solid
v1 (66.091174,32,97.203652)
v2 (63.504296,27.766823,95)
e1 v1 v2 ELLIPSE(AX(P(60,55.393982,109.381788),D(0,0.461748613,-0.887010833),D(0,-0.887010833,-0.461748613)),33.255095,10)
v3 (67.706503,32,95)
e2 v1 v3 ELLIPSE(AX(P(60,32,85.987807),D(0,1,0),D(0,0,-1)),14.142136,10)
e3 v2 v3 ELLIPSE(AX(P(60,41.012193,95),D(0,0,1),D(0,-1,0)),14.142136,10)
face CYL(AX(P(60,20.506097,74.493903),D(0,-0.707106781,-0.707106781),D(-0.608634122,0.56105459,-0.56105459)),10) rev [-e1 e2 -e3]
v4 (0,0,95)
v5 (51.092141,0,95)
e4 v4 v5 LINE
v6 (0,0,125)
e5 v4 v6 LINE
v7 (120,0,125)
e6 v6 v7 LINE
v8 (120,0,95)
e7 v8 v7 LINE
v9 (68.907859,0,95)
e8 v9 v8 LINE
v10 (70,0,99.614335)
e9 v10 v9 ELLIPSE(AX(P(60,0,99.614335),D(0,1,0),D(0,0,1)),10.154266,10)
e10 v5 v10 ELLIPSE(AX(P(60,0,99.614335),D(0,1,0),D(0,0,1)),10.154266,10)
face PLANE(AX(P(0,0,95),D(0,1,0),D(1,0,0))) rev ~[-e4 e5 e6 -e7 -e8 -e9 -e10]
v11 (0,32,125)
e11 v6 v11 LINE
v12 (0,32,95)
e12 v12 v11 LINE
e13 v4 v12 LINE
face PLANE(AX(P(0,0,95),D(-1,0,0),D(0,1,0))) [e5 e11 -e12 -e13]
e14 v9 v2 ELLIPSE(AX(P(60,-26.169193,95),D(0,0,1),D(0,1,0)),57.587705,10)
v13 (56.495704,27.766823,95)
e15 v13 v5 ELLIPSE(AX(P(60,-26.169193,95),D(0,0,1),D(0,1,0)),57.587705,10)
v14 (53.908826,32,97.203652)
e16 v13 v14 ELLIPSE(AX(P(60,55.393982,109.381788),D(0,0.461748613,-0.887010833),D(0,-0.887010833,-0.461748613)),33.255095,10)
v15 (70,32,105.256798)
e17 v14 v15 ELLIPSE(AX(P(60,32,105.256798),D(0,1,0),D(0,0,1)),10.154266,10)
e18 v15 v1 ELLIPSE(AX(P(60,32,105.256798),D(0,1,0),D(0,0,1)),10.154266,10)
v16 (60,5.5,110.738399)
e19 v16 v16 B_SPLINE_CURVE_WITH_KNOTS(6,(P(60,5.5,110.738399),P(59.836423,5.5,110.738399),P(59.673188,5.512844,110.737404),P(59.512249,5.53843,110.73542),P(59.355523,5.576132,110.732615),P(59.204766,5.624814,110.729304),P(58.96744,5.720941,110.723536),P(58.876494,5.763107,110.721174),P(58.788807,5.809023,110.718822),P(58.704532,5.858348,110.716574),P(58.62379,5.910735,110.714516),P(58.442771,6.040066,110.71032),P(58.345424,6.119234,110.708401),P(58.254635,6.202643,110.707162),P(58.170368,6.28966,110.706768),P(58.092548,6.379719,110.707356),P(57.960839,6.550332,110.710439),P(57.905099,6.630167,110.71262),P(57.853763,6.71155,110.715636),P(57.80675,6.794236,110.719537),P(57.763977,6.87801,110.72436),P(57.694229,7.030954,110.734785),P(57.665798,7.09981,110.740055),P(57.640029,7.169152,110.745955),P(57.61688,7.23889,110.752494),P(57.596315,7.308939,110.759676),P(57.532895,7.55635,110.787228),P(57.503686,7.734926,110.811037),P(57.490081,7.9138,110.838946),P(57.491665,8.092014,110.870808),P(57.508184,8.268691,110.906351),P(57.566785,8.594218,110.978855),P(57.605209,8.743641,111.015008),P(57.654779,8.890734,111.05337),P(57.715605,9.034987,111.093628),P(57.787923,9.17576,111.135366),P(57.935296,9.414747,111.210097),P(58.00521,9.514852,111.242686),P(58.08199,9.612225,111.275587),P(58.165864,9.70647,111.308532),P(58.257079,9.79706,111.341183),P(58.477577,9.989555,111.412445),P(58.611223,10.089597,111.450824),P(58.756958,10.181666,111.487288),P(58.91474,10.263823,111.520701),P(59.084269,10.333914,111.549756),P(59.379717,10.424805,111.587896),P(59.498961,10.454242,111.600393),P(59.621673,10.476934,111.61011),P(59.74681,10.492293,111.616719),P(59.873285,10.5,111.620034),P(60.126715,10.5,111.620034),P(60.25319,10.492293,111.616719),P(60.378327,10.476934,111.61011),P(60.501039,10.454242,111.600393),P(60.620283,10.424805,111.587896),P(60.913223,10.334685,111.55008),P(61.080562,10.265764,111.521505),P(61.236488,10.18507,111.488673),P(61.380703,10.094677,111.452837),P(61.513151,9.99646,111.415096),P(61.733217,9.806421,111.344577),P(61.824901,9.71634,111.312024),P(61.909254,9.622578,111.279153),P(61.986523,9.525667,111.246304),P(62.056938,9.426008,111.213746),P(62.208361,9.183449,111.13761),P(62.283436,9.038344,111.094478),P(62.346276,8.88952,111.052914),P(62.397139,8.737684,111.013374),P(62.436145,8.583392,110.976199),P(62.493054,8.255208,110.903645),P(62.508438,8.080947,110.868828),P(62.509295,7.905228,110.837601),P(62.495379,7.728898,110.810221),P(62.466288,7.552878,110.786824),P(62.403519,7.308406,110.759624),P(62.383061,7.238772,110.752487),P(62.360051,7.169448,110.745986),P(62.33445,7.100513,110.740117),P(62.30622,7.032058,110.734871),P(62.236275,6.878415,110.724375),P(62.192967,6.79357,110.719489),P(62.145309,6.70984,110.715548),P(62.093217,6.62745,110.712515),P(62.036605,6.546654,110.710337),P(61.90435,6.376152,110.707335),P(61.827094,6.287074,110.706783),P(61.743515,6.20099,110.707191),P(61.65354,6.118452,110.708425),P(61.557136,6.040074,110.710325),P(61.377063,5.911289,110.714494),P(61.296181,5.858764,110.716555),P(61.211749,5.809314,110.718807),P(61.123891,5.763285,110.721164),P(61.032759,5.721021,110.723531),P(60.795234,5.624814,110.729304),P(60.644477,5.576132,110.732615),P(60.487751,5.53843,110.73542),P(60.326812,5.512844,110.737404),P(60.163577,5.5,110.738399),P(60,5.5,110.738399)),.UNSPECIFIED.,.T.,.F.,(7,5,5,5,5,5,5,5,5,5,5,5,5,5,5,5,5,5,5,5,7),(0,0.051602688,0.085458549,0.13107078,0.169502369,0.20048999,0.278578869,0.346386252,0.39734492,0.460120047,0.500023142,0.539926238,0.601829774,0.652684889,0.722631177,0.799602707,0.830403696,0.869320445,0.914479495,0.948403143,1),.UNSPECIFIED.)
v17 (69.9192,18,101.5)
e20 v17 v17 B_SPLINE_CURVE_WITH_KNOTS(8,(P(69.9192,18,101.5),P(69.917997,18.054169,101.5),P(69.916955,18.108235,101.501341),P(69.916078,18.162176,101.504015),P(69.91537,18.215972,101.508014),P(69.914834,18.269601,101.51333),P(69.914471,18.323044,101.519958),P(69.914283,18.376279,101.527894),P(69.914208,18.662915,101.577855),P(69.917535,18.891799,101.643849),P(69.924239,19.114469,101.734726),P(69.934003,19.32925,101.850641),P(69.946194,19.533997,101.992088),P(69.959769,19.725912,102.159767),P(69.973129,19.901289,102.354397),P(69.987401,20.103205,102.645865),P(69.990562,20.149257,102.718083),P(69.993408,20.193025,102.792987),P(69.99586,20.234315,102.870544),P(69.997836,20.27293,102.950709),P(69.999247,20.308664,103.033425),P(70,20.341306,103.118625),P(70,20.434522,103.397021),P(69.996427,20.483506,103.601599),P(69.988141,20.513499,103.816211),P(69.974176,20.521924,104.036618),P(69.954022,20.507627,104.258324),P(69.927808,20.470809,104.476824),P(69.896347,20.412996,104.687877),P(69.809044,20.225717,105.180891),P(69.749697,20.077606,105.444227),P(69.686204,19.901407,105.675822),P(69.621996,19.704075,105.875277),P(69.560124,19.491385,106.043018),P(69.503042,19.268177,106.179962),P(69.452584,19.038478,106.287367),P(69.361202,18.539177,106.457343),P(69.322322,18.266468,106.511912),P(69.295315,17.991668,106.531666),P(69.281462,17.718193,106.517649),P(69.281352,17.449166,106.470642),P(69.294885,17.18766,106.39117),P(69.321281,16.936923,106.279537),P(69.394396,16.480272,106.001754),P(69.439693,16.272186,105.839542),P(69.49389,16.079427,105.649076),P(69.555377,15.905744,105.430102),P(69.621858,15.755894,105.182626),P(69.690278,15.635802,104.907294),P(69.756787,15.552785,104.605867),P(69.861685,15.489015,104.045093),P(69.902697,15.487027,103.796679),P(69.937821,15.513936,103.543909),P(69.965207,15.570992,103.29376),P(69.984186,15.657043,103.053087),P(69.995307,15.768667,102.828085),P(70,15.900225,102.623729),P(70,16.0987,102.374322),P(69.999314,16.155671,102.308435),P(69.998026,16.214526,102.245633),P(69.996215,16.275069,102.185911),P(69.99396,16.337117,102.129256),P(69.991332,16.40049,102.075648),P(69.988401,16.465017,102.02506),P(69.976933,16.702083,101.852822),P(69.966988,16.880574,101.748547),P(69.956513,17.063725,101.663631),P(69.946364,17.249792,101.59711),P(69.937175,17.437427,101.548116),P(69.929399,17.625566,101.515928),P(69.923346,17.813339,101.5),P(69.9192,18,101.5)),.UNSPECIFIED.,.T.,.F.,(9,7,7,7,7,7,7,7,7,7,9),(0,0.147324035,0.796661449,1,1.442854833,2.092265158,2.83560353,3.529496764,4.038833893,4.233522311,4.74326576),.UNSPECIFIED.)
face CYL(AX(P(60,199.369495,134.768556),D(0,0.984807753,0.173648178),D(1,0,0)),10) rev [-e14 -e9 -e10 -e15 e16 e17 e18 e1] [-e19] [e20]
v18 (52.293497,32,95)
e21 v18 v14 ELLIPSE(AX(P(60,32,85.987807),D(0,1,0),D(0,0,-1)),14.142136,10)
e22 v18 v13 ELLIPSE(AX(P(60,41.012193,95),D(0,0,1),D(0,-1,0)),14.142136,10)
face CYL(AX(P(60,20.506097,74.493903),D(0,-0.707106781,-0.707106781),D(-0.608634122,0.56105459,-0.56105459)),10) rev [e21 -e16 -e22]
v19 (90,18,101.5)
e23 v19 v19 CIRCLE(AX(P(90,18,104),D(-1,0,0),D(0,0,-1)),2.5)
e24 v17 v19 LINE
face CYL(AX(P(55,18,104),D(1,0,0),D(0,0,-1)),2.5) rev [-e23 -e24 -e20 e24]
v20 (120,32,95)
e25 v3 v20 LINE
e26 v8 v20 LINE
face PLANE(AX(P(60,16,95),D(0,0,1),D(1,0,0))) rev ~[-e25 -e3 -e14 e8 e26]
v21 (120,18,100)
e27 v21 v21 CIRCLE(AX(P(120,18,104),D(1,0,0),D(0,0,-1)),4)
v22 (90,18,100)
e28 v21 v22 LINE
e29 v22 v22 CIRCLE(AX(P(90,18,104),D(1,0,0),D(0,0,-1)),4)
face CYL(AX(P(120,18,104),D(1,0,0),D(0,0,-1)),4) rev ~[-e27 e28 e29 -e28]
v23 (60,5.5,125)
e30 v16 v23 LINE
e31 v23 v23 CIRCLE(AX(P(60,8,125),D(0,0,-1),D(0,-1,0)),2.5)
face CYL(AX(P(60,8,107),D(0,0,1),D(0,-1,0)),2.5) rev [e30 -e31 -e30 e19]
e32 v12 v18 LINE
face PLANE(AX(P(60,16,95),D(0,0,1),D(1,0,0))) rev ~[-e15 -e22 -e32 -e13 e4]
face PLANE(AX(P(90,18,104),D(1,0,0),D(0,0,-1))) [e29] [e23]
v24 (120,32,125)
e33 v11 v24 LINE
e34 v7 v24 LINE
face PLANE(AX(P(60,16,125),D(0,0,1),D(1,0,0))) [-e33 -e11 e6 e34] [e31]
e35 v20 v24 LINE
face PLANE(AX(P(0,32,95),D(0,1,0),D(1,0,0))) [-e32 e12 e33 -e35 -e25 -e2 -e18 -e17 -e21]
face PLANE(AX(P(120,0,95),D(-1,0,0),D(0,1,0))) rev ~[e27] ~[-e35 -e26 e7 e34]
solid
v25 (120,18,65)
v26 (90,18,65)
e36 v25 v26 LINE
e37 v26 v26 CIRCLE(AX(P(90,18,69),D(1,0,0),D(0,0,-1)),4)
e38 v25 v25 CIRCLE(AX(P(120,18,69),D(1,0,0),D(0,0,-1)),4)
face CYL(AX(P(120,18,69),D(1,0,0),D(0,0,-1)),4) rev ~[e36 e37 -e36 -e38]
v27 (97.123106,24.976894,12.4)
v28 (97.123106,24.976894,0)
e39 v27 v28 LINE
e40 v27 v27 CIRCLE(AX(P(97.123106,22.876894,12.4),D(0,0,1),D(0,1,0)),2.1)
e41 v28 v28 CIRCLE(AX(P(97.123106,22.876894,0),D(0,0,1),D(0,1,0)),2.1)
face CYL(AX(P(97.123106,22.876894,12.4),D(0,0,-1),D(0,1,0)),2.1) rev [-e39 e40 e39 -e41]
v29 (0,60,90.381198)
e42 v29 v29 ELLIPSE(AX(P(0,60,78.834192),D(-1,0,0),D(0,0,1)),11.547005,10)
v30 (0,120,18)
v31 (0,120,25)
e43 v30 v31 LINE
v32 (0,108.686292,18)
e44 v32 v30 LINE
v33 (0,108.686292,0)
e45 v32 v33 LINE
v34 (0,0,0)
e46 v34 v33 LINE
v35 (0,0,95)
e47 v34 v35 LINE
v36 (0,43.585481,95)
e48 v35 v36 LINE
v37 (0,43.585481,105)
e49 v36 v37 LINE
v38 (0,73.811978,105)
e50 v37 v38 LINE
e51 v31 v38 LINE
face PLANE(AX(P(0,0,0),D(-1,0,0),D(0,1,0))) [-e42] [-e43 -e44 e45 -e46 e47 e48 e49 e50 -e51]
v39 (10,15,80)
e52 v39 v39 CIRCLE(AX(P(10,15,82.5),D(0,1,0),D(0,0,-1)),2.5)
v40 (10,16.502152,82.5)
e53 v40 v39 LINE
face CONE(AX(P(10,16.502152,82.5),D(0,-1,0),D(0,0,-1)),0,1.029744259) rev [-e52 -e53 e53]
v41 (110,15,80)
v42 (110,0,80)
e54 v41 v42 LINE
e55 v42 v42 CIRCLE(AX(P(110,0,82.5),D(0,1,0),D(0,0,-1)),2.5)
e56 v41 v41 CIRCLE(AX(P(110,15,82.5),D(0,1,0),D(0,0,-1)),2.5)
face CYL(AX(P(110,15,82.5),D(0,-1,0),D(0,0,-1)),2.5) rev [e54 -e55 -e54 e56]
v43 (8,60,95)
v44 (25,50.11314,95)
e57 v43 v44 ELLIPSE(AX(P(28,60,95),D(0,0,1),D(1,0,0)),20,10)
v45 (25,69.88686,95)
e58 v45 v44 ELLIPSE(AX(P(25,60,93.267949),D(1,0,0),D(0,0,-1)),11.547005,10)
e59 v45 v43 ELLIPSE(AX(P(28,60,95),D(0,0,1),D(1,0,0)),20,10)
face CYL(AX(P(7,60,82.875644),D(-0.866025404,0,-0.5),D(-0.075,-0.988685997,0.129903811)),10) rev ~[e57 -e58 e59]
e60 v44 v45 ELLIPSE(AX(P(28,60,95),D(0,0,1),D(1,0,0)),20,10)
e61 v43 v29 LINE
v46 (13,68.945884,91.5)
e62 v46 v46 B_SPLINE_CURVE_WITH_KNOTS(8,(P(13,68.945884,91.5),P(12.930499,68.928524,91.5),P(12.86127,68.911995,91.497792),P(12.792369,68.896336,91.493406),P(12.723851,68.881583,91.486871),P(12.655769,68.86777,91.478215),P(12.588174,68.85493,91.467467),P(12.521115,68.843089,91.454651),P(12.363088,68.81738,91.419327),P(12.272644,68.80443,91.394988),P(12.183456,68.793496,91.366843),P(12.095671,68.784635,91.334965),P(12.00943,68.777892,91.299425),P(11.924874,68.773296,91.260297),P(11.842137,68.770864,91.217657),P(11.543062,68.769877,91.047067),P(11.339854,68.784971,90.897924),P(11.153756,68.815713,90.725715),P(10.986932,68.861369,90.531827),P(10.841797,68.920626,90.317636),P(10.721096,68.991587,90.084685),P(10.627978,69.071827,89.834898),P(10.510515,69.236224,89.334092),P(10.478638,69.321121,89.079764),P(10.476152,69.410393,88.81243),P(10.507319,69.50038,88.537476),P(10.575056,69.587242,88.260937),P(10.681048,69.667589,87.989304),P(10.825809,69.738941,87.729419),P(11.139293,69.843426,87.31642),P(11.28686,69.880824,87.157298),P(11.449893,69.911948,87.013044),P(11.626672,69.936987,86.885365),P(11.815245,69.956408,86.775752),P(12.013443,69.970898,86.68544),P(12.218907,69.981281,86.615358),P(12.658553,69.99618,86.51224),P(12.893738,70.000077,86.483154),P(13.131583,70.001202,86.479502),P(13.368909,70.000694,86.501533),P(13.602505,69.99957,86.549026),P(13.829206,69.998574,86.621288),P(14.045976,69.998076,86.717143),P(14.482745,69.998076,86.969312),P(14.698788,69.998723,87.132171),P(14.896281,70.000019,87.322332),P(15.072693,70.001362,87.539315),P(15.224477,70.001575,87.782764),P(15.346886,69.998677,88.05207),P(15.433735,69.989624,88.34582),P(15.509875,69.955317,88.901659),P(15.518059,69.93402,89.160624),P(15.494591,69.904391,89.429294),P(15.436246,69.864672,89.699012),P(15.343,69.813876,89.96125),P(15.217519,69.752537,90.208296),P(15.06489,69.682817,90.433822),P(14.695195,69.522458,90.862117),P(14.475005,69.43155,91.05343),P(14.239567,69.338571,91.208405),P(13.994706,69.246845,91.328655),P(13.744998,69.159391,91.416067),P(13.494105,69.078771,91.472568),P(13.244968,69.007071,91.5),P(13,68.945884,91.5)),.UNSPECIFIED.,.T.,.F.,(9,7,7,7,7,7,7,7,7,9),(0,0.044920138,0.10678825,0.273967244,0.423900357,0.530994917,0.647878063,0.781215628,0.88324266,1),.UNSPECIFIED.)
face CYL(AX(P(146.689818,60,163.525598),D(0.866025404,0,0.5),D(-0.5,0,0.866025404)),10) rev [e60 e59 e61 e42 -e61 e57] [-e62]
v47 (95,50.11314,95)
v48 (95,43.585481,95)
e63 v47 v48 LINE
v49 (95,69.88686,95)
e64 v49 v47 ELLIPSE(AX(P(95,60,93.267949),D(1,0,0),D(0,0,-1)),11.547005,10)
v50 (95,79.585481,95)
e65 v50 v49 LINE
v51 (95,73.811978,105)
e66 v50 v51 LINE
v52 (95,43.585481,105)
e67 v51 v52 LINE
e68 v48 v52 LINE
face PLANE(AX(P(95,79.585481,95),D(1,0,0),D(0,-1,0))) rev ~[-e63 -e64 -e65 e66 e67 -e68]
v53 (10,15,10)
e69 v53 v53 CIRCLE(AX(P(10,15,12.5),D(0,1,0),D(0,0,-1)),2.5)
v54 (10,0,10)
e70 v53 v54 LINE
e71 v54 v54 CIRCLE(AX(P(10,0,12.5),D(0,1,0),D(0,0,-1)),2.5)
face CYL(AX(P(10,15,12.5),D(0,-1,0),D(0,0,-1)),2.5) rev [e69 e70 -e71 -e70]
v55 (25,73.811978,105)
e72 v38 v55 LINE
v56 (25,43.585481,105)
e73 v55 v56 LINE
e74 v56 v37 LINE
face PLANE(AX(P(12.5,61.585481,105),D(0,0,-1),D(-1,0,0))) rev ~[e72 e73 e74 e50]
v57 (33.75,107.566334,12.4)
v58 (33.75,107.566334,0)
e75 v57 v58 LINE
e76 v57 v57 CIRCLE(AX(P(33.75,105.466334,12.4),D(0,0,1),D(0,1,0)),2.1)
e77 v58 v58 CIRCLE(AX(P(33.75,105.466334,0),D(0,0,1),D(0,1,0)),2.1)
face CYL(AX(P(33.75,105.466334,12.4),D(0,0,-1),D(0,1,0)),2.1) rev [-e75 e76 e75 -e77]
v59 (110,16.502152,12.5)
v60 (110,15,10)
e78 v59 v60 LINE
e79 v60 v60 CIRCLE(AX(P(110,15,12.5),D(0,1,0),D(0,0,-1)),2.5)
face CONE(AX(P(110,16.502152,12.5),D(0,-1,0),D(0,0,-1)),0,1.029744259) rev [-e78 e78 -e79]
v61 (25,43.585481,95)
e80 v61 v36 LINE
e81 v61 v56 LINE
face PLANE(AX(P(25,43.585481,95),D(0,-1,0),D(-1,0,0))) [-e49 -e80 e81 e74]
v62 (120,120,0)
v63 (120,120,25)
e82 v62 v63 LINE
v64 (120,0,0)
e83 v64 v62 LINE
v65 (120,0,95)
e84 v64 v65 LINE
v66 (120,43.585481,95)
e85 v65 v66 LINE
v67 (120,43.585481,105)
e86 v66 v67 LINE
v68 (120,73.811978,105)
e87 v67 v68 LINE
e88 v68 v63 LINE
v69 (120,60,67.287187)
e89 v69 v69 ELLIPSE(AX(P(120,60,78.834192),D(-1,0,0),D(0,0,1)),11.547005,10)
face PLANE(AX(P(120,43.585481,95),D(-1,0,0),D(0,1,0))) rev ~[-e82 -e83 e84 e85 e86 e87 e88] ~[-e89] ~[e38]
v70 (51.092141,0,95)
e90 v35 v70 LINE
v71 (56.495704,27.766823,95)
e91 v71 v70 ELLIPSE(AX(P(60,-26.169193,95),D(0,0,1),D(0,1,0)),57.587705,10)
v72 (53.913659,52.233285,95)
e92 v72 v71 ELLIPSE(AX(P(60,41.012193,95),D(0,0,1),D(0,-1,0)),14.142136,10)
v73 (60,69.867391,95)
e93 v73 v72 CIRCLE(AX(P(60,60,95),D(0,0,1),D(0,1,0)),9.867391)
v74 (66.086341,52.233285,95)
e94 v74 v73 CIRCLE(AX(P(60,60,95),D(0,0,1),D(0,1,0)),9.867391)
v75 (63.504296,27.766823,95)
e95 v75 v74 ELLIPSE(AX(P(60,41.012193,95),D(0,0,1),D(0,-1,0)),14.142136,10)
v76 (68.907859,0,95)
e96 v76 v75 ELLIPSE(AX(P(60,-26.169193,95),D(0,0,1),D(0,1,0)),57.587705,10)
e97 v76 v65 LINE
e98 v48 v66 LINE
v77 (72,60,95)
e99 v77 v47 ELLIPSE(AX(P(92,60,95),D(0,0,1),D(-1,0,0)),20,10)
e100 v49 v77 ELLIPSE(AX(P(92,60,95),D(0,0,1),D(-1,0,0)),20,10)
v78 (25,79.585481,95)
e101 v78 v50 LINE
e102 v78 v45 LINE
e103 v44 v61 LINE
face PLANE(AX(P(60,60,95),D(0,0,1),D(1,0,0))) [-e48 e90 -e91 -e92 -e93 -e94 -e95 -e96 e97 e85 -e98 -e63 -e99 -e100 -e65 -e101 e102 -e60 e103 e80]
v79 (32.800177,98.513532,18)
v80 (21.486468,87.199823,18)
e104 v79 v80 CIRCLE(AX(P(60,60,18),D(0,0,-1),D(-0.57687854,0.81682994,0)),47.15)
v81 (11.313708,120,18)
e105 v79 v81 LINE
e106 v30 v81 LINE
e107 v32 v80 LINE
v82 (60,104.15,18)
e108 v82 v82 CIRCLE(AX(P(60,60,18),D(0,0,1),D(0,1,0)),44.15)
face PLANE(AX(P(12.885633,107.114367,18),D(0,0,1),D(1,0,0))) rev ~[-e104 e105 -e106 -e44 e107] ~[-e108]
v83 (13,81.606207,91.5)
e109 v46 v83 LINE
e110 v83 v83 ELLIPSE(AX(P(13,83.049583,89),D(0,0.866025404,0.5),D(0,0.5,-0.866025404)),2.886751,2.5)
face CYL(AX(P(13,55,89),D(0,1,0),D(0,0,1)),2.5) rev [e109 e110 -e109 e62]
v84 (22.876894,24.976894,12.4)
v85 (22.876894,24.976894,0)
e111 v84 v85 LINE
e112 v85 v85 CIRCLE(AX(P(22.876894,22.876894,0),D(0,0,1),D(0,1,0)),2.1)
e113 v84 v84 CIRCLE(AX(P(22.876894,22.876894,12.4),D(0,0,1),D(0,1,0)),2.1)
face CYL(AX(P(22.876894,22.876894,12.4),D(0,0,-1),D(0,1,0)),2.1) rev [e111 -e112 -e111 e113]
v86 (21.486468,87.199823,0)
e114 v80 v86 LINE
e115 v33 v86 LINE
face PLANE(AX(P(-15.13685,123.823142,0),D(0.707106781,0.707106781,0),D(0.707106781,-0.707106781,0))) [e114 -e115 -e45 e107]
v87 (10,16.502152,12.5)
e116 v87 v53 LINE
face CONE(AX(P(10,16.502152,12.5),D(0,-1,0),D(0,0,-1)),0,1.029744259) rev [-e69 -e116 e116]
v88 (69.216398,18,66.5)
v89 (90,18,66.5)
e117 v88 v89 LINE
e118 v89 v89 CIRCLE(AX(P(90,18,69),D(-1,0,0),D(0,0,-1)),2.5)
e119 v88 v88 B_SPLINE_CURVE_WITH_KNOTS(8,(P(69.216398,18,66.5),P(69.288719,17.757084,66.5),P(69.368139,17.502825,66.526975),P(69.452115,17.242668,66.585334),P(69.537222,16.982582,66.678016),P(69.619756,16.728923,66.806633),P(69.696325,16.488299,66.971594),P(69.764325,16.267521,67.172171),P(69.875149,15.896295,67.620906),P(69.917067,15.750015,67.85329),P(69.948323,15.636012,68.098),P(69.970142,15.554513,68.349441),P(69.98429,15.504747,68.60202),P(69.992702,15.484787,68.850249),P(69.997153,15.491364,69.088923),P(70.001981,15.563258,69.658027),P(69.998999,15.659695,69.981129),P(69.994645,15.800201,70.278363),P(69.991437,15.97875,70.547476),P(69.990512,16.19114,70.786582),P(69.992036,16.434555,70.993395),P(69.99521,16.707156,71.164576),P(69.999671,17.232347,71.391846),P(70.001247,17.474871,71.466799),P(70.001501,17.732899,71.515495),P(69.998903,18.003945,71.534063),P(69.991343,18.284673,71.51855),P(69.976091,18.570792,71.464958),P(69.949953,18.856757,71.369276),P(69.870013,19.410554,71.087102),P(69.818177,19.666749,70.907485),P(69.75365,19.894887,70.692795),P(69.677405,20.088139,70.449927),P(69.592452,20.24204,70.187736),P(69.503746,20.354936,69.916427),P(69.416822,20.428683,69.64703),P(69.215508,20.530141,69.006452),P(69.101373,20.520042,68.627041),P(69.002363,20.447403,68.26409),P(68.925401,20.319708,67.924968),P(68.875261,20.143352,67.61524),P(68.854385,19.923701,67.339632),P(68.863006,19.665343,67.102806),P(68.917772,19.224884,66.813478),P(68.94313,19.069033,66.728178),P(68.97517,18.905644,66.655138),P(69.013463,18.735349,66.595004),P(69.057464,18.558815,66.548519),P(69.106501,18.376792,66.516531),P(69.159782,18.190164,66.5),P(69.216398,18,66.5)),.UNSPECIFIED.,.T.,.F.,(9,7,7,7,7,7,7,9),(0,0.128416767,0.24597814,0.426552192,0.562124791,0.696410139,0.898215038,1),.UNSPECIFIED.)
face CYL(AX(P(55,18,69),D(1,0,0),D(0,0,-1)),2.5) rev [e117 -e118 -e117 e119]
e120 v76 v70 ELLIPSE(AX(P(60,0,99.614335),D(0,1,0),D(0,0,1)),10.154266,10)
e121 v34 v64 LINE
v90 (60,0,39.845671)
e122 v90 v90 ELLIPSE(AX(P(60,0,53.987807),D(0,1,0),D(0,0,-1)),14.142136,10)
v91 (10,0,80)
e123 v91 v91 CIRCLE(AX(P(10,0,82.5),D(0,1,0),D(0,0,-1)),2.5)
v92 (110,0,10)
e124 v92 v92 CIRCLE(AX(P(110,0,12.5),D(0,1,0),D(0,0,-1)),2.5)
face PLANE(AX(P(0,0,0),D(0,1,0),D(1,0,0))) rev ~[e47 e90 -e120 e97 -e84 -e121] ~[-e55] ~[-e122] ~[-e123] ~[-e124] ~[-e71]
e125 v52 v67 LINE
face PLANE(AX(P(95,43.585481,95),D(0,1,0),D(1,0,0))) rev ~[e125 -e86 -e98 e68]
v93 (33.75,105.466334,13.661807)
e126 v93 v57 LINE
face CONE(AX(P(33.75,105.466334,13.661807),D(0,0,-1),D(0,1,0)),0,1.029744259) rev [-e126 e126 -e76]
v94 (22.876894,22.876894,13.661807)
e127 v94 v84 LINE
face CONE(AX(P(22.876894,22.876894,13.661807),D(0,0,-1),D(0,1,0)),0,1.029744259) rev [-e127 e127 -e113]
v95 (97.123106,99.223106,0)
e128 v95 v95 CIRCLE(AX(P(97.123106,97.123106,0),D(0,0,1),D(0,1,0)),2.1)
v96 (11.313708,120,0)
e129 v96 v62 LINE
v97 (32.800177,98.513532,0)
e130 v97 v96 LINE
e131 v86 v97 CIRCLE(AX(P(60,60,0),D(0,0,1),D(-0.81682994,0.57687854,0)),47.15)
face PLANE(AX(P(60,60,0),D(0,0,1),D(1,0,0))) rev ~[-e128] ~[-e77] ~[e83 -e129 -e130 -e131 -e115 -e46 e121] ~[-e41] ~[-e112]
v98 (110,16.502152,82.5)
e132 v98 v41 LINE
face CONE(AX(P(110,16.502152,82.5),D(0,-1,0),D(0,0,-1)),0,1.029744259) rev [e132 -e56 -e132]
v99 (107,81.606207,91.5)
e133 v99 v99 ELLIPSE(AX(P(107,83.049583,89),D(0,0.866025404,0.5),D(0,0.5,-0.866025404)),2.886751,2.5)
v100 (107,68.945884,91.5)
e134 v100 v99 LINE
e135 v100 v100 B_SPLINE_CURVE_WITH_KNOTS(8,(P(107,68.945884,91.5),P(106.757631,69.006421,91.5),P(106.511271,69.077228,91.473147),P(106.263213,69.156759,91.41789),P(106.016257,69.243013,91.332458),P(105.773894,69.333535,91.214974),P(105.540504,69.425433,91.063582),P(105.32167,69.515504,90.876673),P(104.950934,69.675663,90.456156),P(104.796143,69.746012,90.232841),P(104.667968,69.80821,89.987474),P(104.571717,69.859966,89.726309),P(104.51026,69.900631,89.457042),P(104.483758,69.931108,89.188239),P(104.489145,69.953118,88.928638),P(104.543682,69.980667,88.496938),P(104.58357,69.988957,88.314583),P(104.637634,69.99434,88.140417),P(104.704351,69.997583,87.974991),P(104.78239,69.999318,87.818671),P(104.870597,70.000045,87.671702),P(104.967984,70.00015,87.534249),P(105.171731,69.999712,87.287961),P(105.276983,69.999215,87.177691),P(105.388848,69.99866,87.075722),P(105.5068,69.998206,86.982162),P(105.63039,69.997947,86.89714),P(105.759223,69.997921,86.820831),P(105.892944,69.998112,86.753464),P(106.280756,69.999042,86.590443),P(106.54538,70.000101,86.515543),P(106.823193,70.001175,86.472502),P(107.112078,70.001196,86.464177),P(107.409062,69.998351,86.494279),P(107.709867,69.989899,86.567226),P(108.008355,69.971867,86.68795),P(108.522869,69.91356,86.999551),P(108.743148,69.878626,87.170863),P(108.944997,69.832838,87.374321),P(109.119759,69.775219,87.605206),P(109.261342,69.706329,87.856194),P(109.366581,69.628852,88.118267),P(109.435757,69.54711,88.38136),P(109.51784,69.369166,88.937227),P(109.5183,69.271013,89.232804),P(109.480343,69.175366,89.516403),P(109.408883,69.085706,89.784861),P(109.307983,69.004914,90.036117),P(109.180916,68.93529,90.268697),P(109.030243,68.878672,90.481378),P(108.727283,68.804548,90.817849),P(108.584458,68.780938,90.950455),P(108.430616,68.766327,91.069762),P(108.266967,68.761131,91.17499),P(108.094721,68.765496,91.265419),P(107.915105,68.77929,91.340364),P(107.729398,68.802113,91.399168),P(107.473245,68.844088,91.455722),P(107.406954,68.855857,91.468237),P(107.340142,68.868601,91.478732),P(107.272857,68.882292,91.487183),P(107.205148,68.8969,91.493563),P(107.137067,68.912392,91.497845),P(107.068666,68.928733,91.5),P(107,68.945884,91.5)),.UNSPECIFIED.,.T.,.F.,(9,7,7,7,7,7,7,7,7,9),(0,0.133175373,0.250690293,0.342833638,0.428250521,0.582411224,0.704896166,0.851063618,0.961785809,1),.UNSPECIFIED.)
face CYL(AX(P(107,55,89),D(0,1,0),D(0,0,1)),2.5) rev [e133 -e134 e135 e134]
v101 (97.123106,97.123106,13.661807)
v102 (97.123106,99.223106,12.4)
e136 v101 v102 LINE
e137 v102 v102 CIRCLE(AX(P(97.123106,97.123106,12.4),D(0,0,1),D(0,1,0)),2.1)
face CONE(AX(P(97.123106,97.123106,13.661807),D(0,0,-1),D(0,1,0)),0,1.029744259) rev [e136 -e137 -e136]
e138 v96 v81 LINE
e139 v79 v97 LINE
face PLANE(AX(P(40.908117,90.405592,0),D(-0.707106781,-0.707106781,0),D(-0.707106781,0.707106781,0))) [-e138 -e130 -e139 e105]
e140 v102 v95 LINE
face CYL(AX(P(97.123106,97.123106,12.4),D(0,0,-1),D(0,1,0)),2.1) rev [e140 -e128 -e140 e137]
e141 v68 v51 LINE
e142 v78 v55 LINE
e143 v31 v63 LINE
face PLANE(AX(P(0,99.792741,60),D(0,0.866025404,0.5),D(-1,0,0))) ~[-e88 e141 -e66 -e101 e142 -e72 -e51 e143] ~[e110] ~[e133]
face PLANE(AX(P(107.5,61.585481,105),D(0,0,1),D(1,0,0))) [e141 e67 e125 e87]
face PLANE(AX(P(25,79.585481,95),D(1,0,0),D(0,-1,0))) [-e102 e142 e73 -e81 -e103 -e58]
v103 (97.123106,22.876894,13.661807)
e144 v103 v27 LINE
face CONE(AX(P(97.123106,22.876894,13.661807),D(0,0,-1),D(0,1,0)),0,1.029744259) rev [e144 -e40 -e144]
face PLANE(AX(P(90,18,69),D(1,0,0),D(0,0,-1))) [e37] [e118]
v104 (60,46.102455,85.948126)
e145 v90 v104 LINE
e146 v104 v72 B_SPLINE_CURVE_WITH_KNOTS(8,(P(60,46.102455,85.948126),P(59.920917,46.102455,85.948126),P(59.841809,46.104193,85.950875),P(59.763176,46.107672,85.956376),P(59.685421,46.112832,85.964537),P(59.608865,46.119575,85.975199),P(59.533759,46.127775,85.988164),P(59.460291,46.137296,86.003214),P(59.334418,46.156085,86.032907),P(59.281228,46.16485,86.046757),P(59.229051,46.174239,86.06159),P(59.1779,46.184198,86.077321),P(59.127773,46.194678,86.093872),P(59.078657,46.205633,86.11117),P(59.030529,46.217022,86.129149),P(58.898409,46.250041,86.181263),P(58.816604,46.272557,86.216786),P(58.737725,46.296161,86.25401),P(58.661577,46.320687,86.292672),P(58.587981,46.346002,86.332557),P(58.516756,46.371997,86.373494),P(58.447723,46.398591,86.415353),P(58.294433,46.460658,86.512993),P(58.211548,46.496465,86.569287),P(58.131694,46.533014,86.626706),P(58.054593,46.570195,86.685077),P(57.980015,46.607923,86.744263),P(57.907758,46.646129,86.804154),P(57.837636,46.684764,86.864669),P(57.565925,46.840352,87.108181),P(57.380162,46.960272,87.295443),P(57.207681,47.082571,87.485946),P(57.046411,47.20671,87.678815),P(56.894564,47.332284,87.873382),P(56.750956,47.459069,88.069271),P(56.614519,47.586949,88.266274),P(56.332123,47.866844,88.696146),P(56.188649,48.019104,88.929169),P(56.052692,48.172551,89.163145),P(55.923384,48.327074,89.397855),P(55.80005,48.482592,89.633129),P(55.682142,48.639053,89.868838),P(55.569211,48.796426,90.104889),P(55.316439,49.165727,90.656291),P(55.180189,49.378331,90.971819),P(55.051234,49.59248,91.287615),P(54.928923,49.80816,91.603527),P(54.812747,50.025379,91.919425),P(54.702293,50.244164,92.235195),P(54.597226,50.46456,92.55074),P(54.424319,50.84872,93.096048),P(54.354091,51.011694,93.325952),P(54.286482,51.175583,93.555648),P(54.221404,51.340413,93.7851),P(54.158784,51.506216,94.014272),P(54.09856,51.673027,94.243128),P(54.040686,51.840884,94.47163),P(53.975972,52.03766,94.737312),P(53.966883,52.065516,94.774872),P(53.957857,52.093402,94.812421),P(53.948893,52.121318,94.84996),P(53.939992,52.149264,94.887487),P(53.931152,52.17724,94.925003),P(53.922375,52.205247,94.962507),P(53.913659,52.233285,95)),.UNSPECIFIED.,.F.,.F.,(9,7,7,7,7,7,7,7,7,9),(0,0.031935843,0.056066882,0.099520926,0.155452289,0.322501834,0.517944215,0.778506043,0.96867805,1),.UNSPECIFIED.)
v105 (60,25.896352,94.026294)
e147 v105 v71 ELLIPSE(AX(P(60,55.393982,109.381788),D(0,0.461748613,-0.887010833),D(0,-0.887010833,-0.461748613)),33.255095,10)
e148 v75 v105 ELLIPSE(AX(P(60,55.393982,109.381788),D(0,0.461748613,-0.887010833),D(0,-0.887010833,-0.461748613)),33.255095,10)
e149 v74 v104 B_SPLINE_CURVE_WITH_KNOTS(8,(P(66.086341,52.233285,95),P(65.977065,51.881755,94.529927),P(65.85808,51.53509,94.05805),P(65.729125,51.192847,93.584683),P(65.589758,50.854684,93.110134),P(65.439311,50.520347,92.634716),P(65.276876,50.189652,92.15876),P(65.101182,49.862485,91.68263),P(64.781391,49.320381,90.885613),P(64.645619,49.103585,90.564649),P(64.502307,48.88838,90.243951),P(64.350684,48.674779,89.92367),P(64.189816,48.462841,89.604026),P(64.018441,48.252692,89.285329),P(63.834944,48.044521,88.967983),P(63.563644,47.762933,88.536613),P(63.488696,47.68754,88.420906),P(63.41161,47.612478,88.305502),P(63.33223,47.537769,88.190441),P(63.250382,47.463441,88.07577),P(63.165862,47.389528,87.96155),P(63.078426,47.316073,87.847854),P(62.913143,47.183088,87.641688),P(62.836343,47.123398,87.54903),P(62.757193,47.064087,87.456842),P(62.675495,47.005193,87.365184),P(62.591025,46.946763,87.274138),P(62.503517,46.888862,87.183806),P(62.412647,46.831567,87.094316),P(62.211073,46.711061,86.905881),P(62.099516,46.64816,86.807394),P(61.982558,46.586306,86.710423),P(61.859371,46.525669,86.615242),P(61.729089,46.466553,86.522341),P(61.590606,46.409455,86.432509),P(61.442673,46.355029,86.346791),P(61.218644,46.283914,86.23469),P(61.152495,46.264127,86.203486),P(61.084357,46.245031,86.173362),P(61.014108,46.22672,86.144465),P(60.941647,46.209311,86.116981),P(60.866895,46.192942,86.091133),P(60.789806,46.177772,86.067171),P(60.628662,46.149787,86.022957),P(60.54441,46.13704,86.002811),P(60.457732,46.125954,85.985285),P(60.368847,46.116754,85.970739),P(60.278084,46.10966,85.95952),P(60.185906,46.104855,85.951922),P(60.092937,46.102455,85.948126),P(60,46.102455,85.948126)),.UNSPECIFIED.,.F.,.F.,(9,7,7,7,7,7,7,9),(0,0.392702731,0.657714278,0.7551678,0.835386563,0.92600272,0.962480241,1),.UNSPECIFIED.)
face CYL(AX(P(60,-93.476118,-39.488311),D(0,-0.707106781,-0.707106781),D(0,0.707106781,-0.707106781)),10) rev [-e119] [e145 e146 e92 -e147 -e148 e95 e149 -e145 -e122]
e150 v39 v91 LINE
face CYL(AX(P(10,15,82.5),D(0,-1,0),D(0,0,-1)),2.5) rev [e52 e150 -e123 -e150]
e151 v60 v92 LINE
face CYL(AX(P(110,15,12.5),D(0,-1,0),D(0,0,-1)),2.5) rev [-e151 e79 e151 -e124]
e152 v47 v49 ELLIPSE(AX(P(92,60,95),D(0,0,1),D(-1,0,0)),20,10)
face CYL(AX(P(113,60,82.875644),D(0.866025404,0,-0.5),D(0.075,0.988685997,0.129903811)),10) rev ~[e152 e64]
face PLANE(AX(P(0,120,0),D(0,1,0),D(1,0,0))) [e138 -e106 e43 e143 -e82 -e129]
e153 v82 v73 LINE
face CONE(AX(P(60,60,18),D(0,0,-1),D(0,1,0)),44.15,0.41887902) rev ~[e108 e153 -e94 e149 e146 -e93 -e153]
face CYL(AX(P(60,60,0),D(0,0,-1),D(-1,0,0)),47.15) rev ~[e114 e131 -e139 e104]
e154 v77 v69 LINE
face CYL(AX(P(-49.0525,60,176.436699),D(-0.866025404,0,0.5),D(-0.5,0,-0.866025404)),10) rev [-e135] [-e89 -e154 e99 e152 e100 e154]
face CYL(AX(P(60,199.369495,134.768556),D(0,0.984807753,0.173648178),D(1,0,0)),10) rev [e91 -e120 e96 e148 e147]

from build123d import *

# Parameters (mm, degrees)
SKETCH_1_W                  = 120.00000000000001
SKETCH_1_H                  = 120.00000000000001
EXTRUDE_1_DEPTH             = 95
SKETCH_2_R                  = 47.15
CUT_EXTRUDE_2_DEPTH         = 18
CHAMFER_1_SIZE              = 70
CHAMFER_1_SIZE2             = 40.41451884327391
CUT_EXTRUDE_4_DEPTH         = 18
CUT_EXTRUDE_5_DEPTH         = 187.12210938827934
CUT_EXTRUDE_5_DEPTH_BACK    = 187.12210938827934
SKETCH_6_R                  = 9.999999999999995
CUT_EXTRUDE_6_DEPTH         = 161.29990766328402
CUT_EXTRUDE_6_DEPTH_BACK    = 161.29990766328402
SKETCH_7_R                  = 10.000000000000007
SKETCH_9_W                  = 120.00000000000001
SKETCH_9_H                  = 32
EXTRUDE_2_DEPTH             = 30
CUT_EXTRUDE_7_DEPTH         = 161.19519343600803
CUT_EXTRUDE_7_DEPTH_BACK    = 161.19519343600803
SKETCH_8_R                  = 10.000000000000002
CUT_EXTRUDE_8_DEPTH         = 161.19519343600803
EXTRUDE_3_DEPTH             = 10
CUT_EXTRUDE_11_DEPTH        = 208.20552853813194
CUT_EXTRUDE_12_DEPTH        = 176.70162320495896
CUT_EXTRUDE_13_DEPTH        = 211.77238908357995
CUT_EXTRUDE_9_DEPTH         = 198.03691646492257
CUT_EXTRUDE_9_DEPTH_BACK    = 198.03691646492257
SKETCH_12_R                 = 9.999999999999993
CUT_EXTRUDE_10_DEPTH        = 198.03691646492257
CUT_EXTRUDE_10_DEPTH_BACK   = 198.03691646492257
SKETCH_13_R                 = 9.999999999999993
HOLE_WIZARD_M6_1_AT_2_COUNT = 2
HOLE_WIZARD_M6_1_AT_2_PITCH = 70.00000000000001
HOLE_WIZARD_M6_1_AT_3_COUNT = 2
HOLE_WIZARD_M6_1_AT_3_PITCH = 122.06555615733703
HOLE_WIZARD_M6_1_AT_4_COUNT = 2
HOLE_WIZARD_M6_1_AT_4_PITCH = 99.99999999999999
HOLE_WIZARD_M6_2_AT_2_COUNT = 2
HOLE_WIZARD_M6_2_AT_2_PITCH = 94.00000000000001
SKETCH_24_R                 = 4.000000000000005
CUT_EXTRUDE_14_DEPTH        = 30
HOLE_WIZARD_M6_4_AT_2_COUNT = 2
HOLE_WIZARD_M6_4_AT_2_PITCH = 35.000000000000014
HOLE_WIZARD_M5_1_AT_2_COUNT = 2
HOLE_WIZARD_M5_1_AT_2_PITCH = 63.91995004591518
HOLE_WIZARD_M5_1_AT_3_COUNT = 2
HOLE_WIZARD_M5_1_AT_3_PITCH = 104.10171044425002
HOLE_WIZARD_M5_1_AT_4_COUNT = 2
HOLE_WIZARD_M5_1_AT_4_PITCH = 83.30210073057981


with BuildPart() as part:
    # 草图1 → 凸台-拉伸1 (new body)
    with BuildSketch(Plane.XY):
        with Locations((60.00000000000001, 60.00000000000001)):
            Rectangle(SKETCH_1_W, SKETCH_1_H)
    extrude(amount=EXTRUDE_1_DEPTH)

    # 草图2 → 切除-拉伸2 (cut)
    with BuildSketch(Plane(origin=(0, 0, 0), x_dir=(-1, 0, 0), z_dir=(0, 0, -1))):
        with Locations((-60, 59.99999999999999)):
            Circle(SKETCH_2_R)
    extrude(amount=-CUT_EXTRUDE_2_DEPTH, mode=Mode.SUBTRACT)

    # 切除-拉伸3 cone 1 section (through the dimple's axis) → 切除-拉伸3 (revolve, cut)
    with BuildSketch(Plane(origin=(60, 60, 18), x_dir=(0, 1, 0), z_dir=(1, 0, 0))):
        Polygon((0, 0), (44.15, 0), (0, 99.162523568), align=None)
    revolve(axis=Axis((60, 60, 18), (0, 0, 1)), mode=Mode.SUBTRACT)

    # 倒角1
    chamfer_1_edges = [part.edges().sort_by_distance(p)[0] for p in [
        (60, 120, 95),
    ]]
    chamfer_1_side = [part.faces().sort_by_distance(p)[0] for p in [
        (60, 120, 47.5),
    ]]
    chamfer(chamfer_1_edges, length=CHAMFER_1_SIZE, length2=CHAMFER_1_SIZE2, reference=chamfer_1_side[0])

    # 草图5 → 切除-拉伸4 (cut)
    with BuildSketch(Plane(origin=(0, 0, 0), x_dir=(-1, 0, 0), z_dir=(0, 0, -1))):
        Polygon((-40.90811690796328, 90.40559159102156), (3.8231419763606613, 135.13685047534565), (15.136850475345431, 123.82314197636093), (-29.594408408978502, 79.09188309203682), align=None)
    extrude(amount=-CUT_EXTRUDE_4_DEPTH, mode=Mode.SUBTRACT)

    # 草图6 → 切除-拉伸5 (cut, two sides: drawn at the far end of the back side and taken through both)
    with BuildSketch(Plane(origin=(48.863793320238976, 0, -28.21152422706628), x_dir=(-0.500000000000001, 0, -0.866025403784438), z_dir=(0.866025403784438, 0, -0.500000000000001)).offset(-CUT_EXTRUDE_5_DEPTH_BACK)):
        with Locations((-128.27241335952172, 59.99999999999999)):
            Circle(SKETCH_6_R)
    extrude(amount=CUT_EXTRUDE_5_DEPTH + CUT_EXTRUDE_5_DEPTH_BACK, mode=Mode.SUBTRACT)

    # 草图7 → 切除-拉伸6 (cut, two sides: drawn at the far end of the back side and taken through both)
    with BuildSketch(Plane(origin=(41.136206679760896, 0, 23.750000000000096), x_dir=(-0.500000000000001, 0, 0.866025403784438), z_dir=(-0.866025403784438, 0, -0.500000000000001)).offset(-CUT_EXTRUDE_6_DEPTH_BACK)):
        with Locations((68.27241335952161, 59.99999999999999)):
            Circle(SKETCH_7_R)
    extrude(amount=CUT_EXTRUDE_6_DEPTH + CUT_EXTRUDE_6_DEPTH_BACK, mode=Mode.SUBTRACT)

    # 草图8 → 切除-拉伸7 (cut, two sides: drawn at the far end of the back side and taken through both)
    with BuildSketch(Plane(origin=(0, 47.49999999999999, 47.49999999999983), x_dir=(1, 0, 0), z_dir=(0, 0.7071067811865488, 0.7071067811865462)).offset(-CUT_EXTRUDE_7_DEPTH_BACK)):
        with Locations(Location((60.00000000000001, -38.17514421272213, 0), (0, 0, 90))):
            Circle(SKETCH_8_R)
    extrude(amount=CUT_EXTRUDE_7_DEPTH + CUT_EXTRUDE_7_DEPTH_BACK, mode=Mode.SUBTRACT)

    # 草图14 → 凸台-拉伸3 (add)
    with BuildSketch(Plane.XY.offset(95)):
        Polygon((120, 79.58548115672617), (94.99999999999999, 79.58548115672617), (95, 43.58548115672617), (120, 43.585481156726175), align=None)
        Polygon((25.000000000000007, 79.58548115672616), (25.000000000000007, 43.58548115672616), (0, 43.585481156726175), (0, 79.58548115672617), align=None)
    extrude(amount=EXTRUDE_3_DEPTH)

    # 草图15 → 切除-拉伸11 (cut, through all)
    with BuildSketch(Plane(origin=(48.863793320238976, 0, -28.21152422706628), x_dir=(-0.500000000000001, 0, -0.866025403784438), z_dir=(0.866025403784438, 0, -0.500000000000001))):
        with BuildLine():
            Line((-129.77241335952172, 50.1131400333574), (-129.7724133595217, 69.88685996664258))
            ThreePointArc((-129.7724133595217, 69.88685996664258), (-138.2724133595217, 60.00000000000001), (-129.77241335952172, 50.1131400333574))
        make_face()
    extrude(amount=-CUT_EXTRUDE_11_DEPTH, mode=Mode.SUBTRACT)

    # 草图16 → 切除-拉伸12 (cut, through all)
    with BuildSketch(Plane(origin=(41.136206679760896, 0, 23.750000000000096), x_dir=(-0.500000000000001, 0, 0.866025403784438), z_dir=(-0.866025403784438, 0, -0.500000000000001))):
        with BuildLine():
            Line((69.77241335952158, 69.8868599666426), (69.77241335952156, 50.113140033357375))
            ThreePointArc((69.77241335952156, 50.113140033357375), (78.27241335952161, 59.999999999999986), (69.77241335952158, 69.8868599666426))
        make_face()
    extrude(amount=-CUT_EXTRUDE_12_DEPTH, mode=Mode.SUBTRACT)

    # 草图17 → 切除-拉伸13 (cut, through all)
    with BuildSketch(Plane(origin=(120, 0, 0), x_dir=(0, 0, -1), z_dir=(1, 0, 0))):
        Polygon((-95, 79.58548115672617), (-114.0318759578301, 68.59742244928917), (-114.03187595783007, 79.58548115672617), align=None)
    extrude(amount=-CUT_EXTRUDE_13_DEPTH, mode=Mode.SUBTRACT)

    # 草图13 → 切除-拉伸10 (cut, two sides: drawn at the far end of the back side and taken through both)
    with BuildSketch(Plane(origin=(0, 21.37625895785434, 3.7692112008807417), x_dir=(1, 0, 0), z_dir=(0, -0.984807753012208, -0.17364817766693072)).offset(-CUT_EXTRUDE_10_DEPTH_BACK)):
        with Locations((60, 98.10096912652598)):
            Circle(SKETCH_13_R)
    extrude(amount=CUT_EXTRUDE_10_DEPTH + CUT_EXTRUDE_10_DEPTH_BACK, mode=Mode.SUBTRACT)

    # 草图18 → M6 螺纹孔1 (revolve, cut)
    with BuildSketch(Plane(origin=(109.99999999999997, 0, 12.50000000000004), x_dir=(0, 0, -1), z_dir=(1, 0, 0))):
        Polygon((0, 0), (-4.04e-15, 16.5021515475689), (2.4999999999999885, 15), (2.4999999999999902, -1.25e-15), align=None)
    hole_wizard_m6_1 = revolve(axis=Axis((109.99999999999997, -6.349999999999991, 12.50000000000004), (0, 1, 0)), mode=Mode.SUBTRACT)

    # M6 螺纹孔1 at 2: M6 螺纹孔1 ×2
    with Locations(*[(0, 0, i * HOLE_WIZARD_M6_1_AT_2_PITCH) for i in range(1, HOLE_WIZARD_M6_1_AT_2_COUNT)]):
        add(hole_wizard_m6_1, mode=Mode.SUBTRACT)

    # M6 螺纹孔1 at 3: M6 螺纹孔1 ×2
    with Locations(*[Vector(-0.8192319205190404, 0, 0.5734623443633284) * (i * HOLE_WIZARD_M6_1_AT_3_PITCH) for i in range(1, HOLE_WIZARD_M6_1_AT_3_COUNT)]):
        add(hole_wizard_m6_1, mode=Mode.SUBTRACT)

    # M6 螺纹孔1 at 4: M6 螺纹孔1 ×2
    with Locations(*[(-i * HOLE_WIZARD_M6_1_AT_4_PITCH, 0, 0) for i in range(1, HOLE_WIZARD_M6_1_AT_4_COUNT)]):
        add(hole_wizard_m6_1, mode=Mode.SUBTRACT)

    # 草图20 → M6 螺纹孔2 (revolve, cut)
    with BuildSketch(Plane(origin=(107.00000000000001, 120, 89), x_dir=(0, 0, 1), z_dir=(1, 0, 0))):
        Polygon((0, 0), (-1.629e-14, 66.5021515475689), (2.499999999999985, 65), (2.4999999999999902, -1.25e-15), align=None)
    hole_wizard_m6_2 = revolve(axis=Axis((107.00000000000001, 126.35, 89), (0, -1, 0)), mode=Mode.SUBTRACT)

    # M6 螺纹孔2 at 2: M6 螺纹孔2 ×2
    with Locations(*[(-i * HOLE_WIZARD_M6_2_AT_2_PITCH, 0, 0) for i in range(1, HOLE_WIZARD_M6_2_AT_2_COUNT)]):
        add(hole_wizard_m6_2, mode=Mode.SUBTRACT)


with BuildPart() as body_2:
    # 草图9 → 凸台-拉伸2 (new body)
    with BuildSketch(Plane.XY.offset(95)):
        with Locations((60.00000000000001, 16)):
            Rectangle(SKETCH_9_W, SKETCH_9_H)
    extrude(amount=EXTRUDE_2_DEPTH)

    # 草图11 → 切除-拉伸8 (cut, through all)
    with BuildSketch(Plane(origin=(0, 47.49999999999999, 47.49999999999983), x_dir=(1, 0, 0), z_dir=(0, 0.7071067811865488, 0.7071067811865462))):
        with BuildLine():
            Line((66.08634122035335, -30.240634111308978), (53.913658779646646, -30.24063411130897))
            ThreePointArc((53.913658779646646, -30.24063411130897), (60.000000000000014, -48.17514421272215), (66.08634122035335, -30.240634111308978))
        make_face()
    extrude(amount=CUT_EXTRUDE_8_DEPTH, mode=Mode.SUBTRACT)

    # 草图12 → 切除-拉伸9 (cut, two sides: drawn at the far end of the back side and taken through both)
    with BuildSketch(Plane(origin=(0, 21.37625895785434, 3.7692112008807417), x_dir=(1, 0, 0), z_dir=(0, -0.984807753012208, -0.17364817766693072)).offset(-CUT_EXTRUDE_9_DEPTH_BACK)):
        with Locations((60, 98.100969126526)):
            Circle(SKETCH_12_R)
    extrude(amount=CUT_EXTRUDE_9_DEPTH + CUT_EXTRUDE_9_DEPTH_BACK, mode=Mode.SUBTRACT)

    # 草图22 → M6 螺纹孔3 (revolve, cut)
    with BuildSketch(Plane(origin=(60, 8.000000000000004, 125), x_dir=(0, -1, 0), z_dir=(1, 0, 0))):
        Polygon((0, 0), (-4.78e-15, 19.502151547568907), (2.499999999999996, 18.000000000000004), (2.4999999999999902, -1.25e-15), align=None)
    revolve(axis=Axis((60, 8.000000000000004, 131.35), (0, 0, -1)), mode=Mode.SUBTRACT)


with BuildPart() as cut_extrude_14_tool:
    # 草图24 → 切除-拉伸14 (new body)
    with BuildSketch(Plane(origin=(120, 0, 0), x_dir=(0, 0, -1), z_dir=(1, 0, 0))):
        with Locations((-104, 18)):
            Circle(SKETCH_24_R)
        with Locations((-68.99999999999999, 18.000000000000004)):
            Circle(SKETCH_24_R)
    extrude(amount=-CUT_EXTRUDE_14_DEPTH)


with BuildPart() as part_1:
    add(part.part)

    # 切除-拉伸14: cut by cut_extrude_14_tool
    add(cut_extrude_14_tool.part, mode=Mode.SUBTRACT)

    # 草图25 → M6 螺纹孔4 (revolve, cut)
    with BuildSketch(Plane(origin=(90, 18.000000000000004, 68.99999999999999), x_dir=(0, 0, -1), z_dir=(0, 1, 0))):
        Polygon((0, 0), (-8.94e-15, 36.50215154756891), (2.499999999999992, 35), (2.4999999999999902, -1.25e-15), align=None)
    hole_wizard_m6_4 = revolve(axis=Axis((96.35, 18.000000000000004, 68.99999999999999), (-1, 0, 0)), mode=Mode.SUBTRACT)

    # 草图27 → M5 螺纹孔1 (revolve, cut)
    with BuildSketch(Plane(origin=(33.750000000000284, 105.46633369868316, 0), x_dir=(0, 1, 0), z_dir=(1, 0, 0))):
        Polygon((0, 0), (-3.35e-15, 13.661807299957877), (2.0999999999999948, 12.400000000000002), (2.099999999999996, -5e-17), align=None)
    hole_wizard_m5_1 = revolve(axis=Axis((33.750000000000284, 105.46633369868316, -6.349999999999991), (0, 0, 1)), mode=Mode.SUBTRACT)

    # M5 螺纹孔1 at 2: M5 螺纹孔1 ×2
    with Locations(*[Vector(0.9914448613738105, -0.1305261922200519, 0) * (i * HOLE_WIZARD_M5_1_AT_2_PITCH) for i in range(1, HOLE_WIZARD_M5_1_AT_2_COUNT)]):
        add(hole_wizard_m5_1, mode=Mode.SUBTRACT)

    # M5 螺纹孔1 at 3: M5 螺纹孔1 ×2
    with Locations(*[Vector(0.6087614290087188, -0.7933533402912366, 0) * (i * HOLE_WIZARD_M5_1_AT_3_PITCH) for i in range(1, HOLE_WIZARD_M5_1_AT_3_COUNT)]):
        add(hole_wizard_m5_1, mode=Mode.SUBTRACT)

    # M5 螺纹孔1 at 4: M5 螺纹孔1 ×2
    with Locations(*[Vector(-0.13052619222005576, -0.9914448613738099, 0) * (i * HOLE_WIZARD_M5_1_AT_4_PITCH) for i in range(1, HOLE_WIZARD_M5_1_AT_4_COUNT)]):
        add(hole_wizard_m5_1, mode=Mode.SUBTRACT)


with BuildPart() as body_2_1:
    add(body_2.part)

    # 切除-拉伸14: cut by cut_extrude_14_tool
    add(cut_extrude_14_tool.part, mode=Mode.SUBTRACT)

    # M6 螺纹孔4 at 2: M6 螺纹孔4 ×2
    with Locations(*[(0, 0, i * HOLE_WIZARD_M6_4_AT_2_PITCH) for i in range(1, HOLE_WIZARD_M6_4_AT_2_COUNT)]):
        add(hole_wizard_m6_4, mode=Mode.SUBTRACT)


solid = Compound([part_1.part, body_2_1.part])
